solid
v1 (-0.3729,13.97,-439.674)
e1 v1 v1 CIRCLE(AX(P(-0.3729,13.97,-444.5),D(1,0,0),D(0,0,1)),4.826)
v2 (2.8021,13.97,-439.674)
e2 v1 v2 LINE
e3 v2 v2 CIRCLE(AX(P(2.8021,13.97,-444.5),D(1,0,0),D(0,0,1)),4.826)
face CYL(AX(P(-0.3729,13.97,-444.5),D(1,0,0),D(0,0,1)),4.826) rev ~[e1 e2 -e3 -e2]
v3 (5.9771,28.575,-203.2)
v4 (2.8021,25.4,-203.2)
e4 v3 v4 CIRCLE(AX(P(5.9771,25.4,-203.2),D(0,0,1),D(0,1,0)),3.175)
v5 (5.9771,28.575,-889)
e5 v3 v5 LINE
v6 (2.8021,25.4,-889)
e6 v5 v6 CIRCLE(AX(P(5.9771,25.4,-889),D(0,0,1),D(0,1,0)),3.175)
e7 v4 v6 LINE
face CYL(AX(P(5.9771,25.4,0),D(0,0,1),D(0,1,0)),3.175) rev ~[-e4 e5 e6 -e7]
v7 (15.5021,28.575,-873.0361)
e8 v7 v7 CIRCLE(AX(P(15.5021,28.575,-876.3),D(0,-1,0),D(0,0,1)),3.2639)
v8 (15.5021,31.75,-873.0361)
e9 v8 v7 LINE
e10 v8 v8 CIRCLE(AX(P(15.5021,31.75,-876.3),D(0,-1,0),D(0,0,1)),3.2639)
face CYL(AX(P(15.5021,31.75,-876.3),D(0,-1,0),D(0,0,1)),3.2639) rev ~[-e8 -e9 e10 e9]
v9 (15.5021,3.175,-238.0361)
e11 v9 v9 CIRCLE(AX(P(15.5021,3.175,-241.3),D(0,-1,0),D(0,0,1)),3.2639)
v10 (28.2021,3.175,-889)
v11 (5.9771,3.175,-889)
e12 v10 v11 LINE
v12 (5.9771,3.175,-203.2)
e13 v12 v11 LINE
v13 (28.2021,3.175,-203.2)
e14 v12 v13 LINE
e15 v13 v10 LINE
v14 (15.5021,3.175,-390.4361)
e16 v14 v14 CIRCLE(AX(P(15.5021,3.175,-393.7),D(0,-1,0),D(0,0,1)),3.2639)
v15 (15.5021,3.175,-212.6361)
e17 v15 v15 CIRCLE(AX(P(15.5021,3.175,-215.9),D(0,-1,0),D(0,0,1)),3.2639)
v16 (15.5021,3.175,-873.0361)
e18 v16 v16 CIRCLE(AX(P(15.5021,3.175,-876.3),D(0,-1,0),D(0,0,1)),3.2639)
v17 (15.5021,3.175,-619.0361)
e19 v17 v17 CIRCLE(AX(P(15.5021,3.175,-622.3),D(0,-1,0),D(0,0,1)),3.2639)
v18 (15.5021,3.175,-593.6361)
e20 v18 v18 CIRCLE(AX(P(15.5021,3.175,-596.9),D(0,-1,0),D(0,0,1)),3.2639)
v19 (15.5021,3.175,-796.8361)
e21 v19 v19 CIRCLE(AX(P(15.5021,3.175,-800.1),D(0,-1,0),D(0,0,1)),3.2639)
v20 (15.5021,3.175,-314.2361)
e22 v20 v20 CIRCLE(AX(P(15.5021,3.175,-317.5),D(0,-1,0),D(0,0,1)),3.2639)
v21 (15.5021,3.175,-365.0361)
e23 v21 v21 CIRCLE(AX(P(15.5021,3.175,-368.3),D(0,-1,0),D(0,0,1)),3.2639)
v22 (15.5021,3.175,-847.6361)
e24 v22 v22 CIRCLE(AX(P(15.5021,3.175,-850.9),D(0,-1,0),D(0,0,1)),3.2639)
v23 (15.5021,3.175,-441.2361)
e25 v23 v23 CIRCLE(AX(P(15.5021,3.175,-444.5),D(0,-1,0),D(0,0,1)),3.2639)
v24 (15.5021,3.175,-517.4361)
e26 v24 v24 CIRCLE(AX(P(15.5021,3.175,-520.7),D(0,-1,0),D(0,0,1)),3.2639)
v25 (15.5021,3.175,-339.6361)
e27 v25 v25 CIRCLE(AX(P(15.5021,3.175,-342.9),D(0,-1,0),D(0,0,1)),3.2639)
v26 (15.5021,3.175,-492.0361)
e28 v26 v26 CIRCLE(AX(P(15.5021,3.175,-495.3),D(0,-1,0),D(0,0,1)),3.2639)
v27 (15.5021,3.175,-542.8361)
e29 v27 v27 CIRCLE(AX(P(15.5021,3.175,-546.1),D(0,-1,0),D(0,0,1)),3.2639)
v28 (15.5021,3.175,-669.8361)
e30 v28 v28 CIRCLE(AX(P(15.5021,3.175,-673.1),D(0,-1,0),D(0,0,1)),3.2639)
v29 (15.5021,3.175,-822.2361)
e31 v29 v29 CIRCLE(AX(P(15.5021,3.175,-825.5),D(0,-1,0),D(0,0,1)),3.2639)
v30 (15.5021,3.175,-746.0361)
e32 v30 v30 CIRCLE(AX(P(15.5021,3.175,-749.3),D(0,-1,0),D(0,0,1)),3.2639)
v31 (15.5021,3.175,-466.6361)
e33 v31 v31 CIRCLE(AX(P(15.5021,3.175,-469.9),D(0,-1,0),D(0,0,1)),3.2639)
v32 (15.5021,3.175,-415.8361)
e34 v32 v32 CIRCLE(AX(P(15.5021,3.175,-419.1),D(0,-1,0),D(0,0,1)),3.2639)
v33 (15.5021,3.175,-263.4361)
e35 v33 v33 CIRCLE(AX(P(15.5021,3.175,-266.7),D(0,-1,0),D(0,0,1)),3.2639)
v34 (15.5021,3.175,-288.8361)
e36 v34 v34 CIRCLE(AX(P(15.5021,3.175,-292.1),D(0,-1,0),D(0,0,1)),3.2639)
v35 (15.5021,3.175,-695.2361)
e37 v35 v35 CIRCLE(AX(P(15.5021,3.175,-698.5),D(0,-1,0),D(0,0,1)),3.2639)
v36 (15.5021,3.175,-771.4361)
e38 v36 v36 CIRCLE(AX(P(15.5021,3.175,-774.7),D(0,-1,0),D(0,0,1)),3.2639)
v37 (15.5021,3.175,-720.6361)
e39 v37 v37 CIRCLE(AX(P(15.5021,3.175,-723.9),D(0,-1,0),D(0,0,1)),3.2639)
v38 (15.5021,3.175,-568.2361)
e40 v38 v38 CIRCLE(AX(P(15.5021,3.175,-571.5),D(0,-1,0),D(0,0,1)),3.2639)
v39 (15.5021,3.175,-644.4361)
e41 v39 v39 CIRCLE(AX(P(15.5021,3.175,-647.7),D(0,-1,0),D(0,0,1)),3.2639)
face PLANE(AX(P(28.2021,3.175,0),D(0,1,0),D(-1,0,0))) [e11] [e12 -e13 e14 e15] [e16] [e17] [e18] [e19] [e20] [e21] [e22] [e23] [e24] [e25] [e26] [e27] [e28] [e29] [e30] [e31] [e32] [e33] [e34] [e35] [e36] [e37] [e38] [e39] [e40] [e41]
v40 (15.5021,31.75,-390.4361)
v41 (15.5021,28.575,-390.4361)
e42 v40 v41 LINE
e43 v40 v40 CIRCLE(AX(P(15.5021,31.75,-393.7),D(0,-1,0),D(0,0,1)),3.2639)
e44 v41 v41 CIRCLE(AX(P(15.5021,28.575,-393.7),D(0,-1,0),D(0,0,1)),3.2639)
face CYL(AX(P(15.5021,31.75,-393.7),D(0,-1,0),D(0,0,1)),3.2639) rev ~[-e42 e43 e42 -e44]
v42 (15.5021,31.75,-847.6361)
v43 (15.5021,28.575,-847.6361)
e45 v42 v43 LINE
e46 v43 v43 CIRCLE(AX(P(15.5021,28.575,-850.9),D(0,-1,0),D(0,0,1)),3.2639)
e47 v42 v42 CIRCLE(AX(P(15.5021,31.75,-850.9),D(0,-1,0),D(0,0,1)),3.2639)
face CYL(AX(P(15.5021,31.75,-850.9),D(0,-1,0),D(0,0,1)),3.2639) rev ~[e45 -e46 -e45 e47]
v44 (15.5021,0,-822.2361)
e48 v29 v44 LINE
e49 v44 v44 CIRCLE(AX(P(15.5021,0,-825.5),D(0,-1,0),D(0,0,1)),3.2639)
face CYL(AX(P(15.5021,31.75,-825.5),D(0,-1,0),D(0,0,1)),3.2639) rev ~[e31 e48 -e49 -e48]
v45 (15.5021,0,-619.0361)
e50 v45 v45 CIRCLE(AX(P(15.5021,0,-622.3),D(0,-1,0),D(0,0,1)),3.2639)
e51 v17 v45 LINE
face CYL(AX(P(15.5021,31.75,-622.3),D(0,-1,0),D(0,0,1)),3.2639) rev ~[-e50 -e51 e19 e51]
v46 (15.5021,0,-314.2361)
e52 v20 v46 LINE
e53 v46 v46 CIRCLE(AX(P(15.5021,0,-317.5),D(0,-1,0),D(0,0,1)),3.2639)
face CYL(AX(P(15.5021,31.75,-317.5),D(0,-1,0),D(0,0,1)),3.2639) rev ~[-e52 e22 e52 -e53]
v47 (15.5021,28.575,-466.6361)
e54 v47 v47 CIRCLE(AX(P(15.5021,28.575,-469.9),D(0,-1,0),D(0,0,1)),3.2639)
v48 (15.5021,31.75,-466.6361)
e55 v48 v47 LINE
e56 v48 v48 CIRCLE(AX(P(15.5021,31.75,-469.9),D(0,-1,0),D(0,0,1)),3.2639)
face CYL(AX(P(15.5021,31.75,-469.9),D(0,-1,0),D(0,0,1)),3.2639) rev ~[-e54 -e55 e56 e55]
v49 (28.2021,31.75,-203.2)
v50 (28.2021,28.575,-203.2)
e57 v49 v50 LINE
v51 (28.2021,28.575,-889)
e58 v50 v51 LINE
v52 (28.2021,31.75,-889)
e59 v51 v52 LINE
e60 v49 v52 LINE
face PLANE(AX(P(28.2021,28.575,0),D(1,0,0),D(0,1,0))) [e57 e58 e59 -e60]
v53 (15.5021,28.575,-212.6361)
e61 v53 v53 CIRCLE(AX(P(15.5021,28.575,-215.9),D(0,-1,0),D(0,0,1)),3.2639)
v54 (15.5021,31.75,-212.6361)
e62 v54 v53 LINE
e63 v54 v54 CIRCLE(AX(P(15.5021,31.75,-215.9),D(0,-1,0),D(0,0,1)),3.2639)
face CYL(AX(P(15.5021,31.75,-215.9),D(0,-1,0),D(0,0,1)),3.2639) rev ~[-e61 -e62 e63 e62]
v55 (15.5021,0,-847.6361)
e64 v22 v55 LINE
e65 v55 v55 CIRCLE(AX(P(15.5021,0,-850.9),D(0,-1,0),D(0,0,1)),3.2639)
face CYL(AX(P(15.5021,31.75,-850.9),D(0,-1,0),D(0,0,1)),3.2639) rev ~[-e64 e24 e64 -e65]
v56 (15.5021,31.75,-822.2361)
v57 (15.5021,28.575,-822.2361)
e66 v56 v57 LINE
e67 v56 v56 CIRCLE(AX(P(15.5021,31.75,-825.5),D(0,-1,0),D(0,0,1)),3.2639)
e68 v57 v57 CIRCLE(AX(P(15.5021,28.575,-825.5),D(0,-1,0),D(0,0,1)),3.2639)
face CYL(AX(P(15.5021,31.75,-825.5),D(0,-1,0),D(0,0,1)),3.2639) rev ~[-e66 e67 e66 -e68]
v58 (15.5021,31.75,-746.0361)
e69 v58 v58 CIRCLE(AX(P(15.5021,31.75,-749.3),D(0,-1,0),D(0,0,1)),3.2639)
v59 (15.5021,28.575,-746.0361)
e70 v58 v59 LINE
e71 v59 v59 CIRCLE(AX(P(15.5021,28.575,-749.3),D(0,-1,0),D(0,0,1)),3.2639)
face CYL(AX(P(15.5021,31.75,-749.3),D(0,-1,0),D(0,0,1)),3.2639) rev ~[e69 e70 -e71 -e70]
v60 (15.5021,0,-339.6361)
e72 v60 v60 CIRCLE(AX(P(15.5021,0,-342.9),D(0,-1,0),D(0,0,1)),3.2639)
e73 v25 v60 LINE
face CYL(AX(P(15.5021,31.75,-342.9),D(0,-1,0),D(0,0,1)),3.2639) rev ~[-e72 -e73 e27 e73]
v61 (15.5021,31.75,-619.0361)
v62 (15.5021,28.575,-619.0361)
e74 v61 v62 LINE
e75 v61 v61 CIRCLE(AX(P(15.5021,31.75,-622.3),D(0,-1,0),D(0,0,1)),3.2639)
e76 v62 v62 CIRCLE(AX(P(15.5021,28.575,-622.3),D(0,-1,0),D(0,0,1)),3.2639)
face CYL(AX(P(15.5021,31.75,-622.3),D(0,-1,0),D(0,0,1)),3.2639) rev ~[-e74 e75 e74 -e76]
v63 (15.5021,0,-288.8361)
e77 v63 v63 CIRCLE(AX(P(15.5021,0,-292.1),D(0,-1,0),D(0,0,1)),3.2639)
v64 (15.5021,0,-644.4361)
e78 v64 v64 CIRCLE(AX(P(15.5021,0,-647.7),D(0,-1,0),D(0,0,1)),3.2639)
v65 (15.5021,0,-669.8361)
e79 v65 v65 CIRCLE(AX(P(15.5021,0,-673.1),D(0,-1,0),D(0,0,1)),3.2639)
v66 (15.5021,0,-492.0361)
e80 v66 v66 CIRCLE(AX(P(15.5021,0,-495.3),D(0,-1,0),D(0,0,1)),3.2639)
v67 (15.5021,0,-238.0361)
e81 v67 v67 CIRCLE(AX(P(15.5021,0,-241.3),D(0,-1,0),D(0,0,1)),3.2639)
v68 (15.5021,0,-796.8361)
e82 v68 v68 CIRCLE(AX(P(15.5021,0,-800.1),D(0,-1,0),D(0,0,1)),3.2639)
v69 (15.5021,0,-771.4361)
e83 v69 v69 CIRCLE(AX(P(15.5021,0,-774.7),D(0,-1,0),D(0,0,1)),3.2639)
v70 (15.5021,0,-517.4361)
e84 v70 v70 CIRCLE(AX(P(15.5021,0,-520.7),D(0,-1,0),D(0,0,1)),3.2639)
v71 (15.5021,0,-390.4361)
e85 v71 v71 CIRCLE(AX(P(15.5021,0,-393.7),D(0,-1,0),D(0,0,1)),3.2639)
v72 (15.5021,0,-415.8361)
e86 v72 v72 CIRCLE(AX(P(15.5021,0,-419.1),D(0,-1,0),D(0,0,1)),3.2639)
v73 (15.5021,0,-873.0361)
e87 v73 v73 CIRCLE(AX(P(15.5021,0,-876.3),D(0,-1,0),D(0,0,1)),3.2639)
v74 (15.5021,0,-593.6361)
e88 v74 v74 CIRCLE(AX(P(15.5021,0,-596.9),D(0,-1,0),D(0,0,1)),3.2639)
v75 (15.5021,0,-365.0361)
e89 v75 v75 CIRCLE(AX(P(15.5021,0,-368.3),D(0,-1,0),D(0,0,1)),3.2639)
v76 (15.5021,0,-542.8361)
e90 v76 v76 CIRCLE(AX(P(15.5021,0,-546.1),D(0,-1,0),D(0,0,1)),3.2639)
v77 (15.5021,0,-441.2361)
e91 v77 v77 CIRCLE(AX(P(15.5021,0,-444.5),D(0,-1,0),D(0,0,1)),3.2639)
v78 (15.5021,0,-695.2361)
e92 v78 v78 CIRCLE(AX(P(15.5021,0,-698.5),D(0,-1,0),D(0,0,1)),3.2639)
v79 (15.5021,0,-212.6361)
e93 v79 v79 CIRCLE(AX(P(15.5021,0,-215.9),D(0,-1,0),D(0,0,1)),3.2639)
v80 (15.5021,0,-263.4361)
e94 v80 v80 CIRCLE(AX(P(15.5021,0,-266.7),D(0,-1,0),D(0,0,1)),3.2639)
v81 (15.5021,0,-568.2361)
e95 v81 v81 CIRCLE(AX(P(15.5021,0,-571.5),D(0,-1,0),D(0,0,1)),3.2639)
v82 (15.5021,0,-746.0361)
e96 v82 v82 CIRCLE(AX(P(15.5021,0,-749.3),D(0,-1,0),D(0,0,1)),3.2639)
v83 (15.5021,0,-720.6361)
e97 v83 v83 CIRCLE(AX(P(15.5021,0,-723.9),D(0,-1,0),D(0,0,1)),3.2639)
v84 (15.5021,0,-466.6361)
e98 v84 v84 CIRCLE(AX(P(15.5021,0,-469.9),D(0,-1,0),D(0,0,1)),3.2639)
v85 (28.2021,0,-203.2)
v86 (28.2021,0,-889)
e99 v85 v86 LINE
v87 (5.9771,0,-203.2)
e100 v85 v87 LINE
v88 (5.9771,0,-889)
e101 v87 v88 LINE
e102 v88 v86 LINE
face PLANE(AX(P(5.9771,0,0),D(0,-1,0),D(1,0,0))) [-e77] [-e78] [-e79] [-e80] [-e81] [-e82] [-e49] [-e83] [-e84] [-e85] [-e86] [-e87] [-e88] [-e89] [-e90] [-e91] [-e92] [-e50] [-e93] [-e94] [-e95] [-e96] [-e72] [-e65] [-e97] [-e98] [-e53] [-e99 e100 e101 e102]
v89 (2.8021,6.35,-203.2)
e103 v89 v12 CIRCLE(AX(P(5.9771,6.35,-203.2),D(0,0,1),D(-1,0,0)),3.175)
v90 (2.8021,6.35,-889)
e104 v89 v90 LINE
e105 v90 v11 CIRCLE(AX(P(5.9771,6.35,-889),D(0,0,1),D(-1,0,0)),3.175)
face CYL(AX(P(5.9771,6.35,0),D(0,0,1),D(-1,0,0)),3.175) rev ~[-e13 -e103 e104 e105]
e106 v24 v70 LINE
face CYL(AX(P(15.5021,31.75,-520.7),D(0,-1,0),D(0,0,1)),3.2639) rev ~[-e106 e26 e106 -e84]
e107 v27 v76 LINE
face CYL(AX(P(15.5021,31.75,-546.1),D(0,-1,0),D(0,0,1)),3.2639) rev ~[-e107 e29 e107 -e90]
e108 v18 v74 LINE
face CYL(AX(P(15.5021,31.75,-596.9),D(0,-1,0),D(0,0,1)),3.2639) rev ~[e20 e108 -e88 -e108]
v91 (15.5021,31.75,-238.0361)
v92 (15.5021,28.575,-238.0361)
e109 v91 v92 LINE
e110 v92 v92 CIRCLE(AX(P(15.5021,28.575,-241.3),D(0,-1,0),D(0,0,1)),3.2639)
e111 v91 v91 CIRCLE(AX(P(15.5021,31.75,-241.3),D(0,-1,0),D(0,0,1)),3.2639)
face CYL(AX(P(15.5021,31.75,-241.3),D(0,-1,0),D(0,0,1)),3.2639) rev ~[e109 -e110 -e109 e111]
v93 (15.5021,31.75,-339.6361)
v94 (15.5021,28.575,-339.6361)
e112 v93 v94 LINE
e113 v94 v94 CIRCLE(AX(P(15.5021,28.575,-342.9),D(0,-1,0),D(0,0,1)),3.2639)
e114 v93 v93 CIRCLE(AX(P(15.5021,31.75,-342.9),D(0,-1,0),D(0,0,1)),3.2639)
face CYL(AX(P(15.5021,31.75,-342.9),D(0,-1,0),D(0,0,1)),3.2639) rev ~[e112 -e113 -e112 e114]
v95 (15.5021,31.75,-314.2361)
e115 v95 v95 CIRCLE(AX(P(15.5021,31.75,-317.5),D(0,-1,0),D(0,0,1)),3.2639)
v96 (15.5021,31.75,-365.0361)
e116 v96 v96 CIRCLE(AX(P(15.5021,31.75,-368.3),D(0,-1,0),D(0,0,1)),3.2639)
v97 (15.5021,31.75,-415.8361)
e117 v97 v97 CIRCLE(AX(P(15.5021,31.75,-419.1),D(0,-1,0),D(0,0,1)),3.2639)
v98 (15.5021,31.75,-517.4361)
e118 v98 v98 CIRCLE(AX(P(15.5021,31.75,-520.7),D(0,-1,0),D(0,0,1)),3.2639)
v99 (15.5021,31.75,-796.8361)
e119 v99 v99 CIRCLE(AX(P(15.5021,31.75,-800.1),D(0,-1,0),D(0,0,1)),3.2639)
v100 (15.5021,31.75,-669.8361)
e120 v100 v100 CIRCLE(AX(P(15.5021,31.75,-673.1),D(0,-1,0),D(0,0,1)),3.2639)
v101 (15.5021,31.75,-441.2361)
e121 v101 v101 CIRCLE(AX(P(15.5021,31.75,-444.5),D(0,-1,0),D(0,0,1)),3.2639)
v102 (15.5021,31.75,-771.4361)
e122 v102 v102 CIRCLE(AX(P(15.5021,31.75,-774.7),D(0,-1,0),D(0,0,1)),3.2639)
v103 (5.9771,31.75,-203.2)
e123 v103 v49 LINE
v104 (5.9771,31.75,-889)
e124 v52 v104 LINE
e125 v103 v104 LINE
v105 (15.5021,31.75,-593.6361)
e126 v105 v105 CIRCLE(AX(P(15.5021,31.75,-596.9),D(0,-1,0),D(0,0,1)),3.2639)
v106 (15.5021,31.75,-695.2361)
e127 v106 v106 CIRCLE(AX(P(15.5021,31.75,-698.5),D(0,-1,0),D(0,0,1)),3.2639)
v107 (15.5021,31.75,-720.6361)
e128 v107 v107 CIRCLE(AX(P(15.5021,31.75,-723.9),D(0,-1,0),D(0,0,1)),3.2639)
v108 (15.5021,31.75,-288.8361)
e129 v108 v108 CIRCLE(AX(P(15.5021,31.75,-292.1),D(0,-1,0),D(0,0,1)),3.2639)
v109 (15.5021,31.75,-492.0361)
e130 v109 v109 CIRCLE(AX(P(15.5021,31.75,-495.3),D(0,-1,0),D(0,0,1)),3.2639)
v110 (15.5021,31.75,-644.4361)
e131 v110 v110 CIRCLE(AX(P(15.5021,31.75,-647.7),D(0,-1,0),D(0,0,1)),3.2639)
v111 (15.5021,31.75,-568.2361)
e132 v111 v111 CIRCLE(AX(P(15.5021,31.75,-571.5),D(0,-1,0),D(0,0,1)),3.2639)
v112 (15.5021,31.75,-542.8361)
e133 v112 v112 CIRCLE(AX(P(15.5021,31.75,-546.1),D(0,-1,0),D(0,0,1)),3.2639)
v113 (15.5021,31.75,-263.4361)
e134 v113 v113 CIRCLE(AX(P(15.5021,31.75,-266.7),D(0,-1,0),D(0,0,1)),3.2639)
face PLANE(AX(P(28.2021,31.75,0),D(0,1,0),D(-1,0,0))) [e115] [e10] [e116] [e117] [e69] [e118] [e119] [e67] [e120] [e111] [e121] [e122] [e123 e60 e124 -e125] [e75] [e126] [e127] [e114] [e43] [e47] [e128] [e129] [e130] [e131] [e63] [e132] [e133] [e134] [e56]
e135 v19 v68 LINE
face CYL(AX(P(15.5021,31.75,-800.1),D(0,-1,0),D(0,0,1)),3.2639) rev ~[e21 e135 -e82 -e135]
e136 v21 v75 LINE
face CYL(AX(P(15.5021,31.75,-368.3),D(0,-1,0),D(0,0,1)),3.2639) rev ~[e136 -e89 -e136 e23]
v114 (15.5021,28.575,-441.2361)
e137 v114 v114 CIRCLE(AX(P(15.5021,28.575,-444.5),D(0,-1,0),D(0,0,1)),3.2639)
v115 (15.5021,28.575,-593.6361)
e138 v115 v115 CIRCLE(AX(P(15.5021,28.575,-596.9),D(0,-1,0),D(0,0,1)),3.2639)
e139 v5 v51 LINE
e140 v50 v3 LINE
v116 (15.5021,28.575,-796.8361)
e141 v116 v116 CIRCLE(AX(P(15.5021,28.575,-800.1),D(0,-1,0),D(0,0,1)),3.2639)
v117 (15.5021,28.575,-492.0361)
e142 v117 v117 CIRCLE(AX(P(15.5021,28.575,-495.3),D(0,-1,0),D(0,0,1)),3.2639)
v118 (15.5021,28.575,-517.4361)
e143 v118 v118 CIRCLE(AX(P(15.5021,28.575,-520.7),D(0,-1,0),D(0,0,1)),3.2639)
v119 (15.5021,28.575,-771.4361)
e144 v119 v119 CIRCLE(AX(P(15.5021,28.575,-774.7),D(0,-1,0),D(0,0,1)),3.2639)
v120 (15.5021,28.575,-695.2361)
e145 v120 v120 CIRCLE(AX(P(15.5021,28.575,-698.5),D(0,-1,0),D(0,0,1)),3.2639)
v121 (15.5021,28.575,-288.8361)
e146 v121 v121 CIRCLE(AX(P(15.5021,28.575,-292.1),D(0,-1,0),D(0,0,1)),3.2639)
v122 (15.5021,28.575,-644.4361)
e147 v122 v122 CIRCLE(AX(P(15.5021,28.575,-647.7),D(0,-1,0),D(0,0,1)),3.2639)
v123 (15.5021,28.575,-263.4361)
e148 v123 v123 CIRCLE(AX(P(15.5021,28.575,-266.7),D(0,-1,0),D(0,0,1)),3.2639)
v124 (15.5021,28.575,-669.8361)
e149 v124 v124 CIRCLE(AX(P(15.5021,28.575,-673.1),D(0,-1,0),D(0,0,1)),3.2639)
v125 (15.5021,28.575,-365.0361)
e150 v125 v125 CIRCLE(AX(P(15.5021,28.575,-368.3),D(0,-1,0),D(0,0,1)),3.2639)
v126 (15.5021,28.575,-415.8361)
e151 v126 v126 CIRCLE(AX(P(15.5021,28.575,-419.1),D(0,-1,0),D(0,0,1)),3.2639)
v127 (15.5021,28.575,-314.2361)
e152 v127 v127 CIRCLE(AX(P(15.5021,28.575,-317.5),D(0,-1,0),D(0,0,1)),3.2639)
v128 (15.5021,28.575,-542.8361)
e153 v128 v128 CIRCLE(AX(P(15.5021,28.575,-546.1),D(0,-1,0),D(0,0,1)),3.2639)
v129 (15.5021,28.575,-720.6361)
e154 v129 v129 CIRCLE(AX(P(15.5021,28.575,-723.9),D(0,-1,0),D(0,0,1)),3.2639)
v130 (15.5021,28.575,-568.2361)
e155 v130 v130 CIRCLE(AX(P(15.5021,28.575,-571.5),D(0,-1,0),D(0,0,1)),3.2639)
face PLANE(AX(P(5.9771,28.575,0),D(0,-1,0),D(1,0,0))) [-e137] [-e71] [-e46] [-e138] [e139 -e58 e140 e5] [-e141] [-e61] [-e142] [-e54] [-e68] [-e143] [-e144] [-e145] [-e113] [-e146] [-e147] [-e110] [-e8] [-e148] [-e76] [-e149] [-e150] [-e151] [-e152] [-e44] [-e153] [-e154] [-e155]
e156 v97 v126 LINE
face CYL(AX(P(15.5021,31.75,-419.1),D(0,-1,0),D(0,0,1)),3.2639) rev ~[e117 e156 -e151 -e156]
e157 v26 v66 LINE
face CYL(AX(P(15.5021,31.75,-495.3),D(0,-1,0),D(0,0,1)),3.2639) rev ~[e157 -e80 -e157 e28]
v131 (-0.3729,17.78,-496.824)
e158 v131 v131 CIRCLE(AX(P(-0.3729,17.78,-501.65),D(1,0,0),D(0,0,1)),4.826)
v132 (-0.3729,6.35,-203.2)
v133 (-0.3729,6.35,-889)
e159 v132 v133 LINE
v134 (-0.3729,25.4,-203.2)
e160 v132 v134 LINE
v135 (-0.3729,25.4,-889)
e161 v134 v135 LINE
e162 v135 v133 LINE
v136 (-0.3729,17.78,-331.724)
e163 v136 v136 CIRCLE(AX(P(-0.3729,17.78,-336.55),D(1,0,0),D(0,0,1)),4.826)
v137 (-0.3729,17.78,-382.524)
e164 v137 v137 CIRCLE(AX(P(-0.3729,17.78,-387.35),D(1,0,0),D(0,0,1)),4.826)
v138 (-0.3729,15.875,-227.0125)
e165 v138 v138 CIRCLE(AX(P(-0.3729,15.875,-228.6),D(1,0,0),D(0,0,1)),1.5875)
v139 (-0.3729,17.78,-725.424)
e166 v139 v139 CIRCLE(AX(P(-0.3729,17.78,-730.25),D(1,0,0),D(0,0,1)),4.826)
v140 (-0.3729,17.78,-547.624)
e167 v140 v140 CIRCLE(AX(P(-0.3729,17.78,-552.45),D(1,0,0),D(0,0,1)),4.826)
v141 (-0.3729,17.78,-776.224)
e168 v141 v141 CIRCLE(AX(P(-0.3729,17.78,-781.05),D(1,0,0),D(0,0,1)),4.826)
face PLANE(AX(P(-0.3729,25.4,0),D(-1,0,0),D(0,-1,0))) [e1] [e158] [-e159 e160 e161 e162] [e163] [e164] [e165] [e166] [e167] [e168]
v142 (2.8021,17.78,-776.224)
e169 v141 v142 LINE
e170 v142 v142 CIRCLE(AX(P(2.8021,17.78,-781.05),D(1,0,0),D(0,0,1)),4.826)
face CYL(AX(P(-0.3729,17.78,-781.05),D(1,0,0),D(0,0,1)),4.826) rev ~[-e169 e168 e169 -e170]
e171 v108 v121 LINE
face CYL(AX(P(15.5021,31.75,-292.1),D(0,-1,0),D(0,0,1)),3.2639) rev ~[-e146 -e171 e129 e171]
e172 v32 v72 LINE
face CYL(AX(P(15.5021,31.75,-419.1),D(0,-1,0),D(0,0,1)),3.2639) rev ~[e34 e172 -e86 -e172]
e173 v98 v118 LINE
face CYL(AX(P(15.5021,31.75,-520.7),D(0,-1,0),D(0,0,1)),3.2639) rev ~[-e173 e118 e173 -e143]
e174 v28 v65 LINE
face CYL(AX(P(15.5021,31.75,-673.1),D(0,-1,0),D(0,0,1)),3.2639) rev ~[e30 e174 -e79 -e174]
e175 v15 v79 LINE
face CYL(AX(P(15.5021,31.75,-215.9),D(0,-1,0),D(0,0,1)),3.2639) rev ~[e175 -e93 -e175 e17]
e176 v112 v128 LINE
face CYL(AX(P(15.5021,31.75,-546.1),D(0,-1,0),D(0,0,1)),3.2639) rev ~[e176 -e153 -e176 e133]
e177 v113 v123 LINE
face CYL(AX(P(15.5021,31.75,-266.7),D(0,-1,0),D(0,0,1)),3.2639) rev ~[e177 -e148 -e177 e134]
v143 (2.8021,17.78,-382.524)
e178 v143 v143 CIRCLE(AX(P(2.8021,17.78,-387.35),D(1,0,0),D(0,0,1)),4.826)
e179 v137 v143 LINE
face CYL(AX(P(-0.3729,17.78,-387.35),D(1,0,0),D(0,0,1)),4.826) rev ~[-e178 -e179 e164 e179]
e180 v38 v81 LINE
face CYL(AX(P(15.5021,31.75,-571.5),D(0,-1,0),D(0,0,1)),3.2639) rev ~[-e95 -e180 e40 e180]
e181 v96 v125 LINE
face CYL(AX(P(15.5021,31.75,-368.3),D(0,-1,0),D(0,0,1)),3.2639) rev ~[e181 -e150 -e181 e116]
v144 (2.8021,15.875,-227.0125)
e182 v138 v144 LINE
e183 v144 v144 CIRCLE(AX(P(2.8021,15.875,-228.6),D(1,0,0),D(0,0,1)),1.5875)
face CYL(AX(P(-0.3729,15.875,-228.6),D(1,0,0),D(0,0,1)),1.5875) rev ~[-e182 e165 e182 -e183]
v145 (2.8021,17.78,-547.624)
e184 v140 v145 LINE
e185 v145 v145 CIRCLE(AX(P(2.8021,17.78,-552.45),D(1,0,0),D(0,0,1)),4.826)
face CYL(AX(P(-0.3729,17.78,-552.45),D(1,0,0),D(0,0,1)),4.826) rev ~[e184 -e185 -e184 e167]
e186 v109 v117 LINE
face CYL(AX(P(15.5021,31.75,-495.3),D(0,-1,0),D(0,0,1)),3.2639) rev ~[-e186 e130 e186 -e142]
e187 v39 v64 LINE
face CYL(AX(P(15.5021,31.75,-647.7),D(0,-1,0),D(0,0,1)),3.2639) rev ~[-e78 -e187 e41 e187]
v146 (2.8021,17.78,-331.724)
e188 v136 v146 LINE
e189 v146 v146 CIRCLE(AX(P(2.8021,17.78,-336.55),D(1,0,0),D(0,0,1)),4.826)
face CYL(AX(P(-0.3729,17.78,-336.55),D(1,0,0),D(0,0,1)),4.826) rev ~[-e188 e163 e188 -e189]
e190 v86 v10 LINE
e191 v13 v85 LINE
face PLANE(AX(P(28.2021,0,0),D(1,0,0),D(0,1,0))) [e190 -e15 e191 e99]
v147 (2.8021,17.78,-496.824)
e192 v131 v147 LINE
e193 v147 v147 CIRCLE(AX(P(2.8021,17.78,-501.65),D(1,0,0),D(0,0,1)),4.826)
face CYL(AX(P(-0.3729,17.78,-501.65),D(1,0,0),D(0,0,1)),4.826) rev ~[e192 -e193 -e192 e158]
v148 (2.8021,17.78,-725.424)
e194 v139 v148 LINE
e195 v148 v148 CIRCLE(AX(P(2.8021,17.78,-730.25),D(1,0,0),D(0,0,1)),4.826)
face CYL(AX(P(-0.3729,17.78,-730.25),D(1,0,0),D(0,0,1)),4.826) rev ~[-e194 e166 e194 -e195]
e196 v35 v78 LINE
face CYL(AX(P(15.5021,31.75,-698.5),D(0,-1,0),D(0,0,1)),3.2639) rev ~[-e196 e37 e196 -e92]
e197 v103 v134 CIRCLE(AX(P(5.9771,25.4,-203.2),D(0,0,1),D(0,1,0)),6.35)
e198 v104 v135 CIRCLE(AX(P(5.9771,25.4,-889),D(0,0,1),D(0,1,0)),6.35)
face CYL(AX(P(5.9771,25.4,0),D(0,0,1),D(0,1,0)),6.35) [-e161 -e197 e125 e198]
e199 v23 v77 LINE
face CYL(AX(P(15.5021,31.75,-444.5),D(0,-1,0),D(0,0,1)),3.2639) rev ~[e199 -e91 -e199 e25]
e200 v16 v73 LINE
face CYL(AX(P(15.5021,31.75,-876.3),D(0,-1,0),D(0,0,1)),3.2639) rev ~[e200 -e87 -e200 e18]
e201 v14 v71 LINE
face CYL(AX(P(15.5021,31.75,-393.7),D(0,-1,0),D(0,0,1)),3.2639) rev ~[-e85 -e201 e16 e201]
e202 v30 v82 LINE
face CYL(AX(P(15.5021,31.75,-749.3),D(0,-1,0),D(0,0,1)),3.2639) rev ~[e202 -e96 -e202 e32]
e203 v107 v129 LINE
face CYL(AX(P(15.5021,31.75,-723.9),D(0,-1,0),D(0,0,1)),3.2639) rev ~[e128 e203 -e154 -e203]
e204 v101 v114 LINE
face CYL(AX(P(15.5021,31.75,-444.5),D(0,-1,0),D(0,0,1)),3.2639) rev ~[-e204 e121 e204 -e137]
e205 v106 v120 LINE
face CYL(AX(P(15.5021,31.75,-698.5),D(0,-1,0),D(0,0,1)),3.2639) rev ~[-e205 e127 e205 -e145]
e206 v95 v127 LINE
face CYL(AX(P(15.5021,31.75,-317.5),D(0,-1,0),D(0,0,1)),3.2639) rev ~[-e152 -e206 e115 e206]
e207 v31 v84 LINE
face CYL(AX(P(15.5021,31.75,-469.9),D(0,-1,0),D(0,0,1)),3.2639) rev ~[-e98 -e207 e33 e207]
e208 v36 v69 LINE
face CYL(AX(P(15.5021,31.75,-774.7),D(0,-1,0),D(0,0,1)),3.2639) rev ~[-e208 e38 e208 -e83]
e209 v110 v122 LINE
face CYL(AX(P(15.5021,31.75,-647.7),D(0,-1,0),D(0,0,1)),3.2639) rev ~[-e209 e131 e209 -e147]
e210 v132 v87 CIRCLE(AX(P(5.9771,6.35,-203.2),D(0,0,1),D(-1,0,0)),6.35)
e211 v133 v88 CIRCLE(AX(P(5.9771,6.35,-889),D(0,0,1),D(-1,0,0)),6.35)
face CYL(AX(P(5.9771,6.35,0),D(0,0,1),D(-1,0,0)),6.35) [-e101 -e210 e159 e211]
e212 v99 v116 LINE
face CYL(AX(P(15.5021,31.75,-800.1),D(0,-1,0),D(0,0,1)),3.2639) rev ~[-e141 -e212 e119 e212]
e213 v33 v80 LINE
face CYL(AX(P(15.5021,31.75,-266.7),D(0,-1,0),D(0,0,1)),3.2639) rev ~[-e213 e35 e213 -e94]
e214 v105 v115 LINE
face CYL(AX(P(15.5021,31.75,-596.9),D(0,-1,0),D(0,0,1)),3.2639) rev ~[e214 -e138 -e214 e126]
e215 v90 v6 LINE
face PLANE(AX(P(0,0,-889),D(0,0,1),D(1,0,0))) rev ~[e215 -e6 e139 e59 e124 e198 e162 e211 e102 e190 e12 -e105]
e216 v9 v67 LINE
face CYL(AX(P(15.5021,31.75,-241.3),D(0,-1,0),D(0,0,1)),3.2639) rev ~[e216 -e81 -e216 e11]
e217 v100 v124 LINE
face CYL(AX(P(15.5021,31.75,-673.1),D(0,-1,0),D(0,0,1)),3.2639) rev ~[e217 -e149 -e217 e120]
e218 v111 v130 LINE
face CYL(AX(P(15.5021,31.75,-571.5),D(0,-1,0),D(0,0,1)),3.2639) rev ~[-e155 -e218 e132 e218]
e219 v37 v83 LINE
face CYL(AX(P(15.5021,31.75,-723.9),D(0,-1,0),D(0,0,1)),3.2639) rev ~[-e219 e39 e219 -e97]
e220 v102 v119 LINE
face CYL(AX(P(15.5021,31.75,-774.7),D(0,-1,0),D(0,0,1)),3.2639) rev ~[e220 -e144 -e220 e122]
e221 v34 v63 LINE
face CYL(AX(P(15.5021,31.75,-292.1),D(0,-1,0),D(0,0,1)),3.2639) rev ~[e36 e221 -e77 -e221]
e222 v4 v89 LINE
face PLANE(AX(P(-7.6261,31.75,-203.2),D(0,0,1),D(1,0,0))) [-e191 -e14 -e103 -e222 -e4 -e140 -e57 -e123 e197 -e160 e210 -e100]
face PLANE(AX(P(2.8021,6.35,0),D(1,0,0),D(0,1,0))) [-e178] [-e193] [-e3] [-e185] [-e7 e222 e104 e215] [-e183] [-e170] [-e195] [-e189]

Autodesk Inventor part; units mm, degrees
ref_plane "YZ Plane" through (0, 0, 0) normal (1, 0, 0) x (0, 1, 0)
ref_plane "XZ Plane" through (0, 0, 0) normal (0, 1, 0) x (-1, 0, 0)
ref_plane "XY Plane" through (0, 0, 0) normal (0, 0, 1) x (1, 0, 0)
sketch "Sketch1" plane through (0, 0, 0) normal (0, 0, 1) x (1, 0, 0)
  line L0 (5.9771, 0) -> (28.2021, 0)
  line L1 (28.2021, 0) -> (28.2021, 3.175)
  line L2 (28.2021, 3.175) -> (5.9771, 3.175)
  line L3 (2.8021, 6.35) -> (2.8021, 25.4)
  line L4 (5.9771, 28.575) -> (28.2021, 28.575)
  line L5 (28.2021, 28.575) -> (28.2021, 31.75)
  line L6 (28.2021, 31.75) -> (5.9771, 31.75)
  line L7 (-0.3729, 25.4) -> (-0.3729, 6.35)
  arc A0 (5.9771, 28.575) -> (2.8021, 25.4) centre (5.9771, 25.4) ccw
  arc A1 (2.8021, 6.35) -> (5.9771, 3.175) centre (5.9771, 6.35) ccw
  arc A2 (5.9771, 31.75) -> (-0.3729, 25.4) centre (5.9771, 25.4) ccw
  arc A3 (-0.3729, 6.35) -> (5.9771, 0) centre (5.9771, 6.35) ccw
  point P0 (0, 0)
  point P1 (-0.3729, 0)
  point P2 (2.8021, 3.175)
  point P3 (2.8021, 28.575)
  dimension "d0" = 28.575
  dimension "d1" = 3.175
  dimension "d2" = 25.4
  dimension "d3" = 25.4
  dimension "d4" = 3.175
  dimension "d5" = 3.175
  dimension "d6" = 6.35
extrude "Extrusion1" add sketch "Sketch1" against normal blind 889
sketch "Sketch2" plane through (-0.3729, 6.35, 0) normal (-1, 0, 0) x (0, 0, 1)
  line L0 (0, 19.05) -> (-889, 19.05) projected
  line L1 (-228.6, 0) -> (-228.6, 7.9375)
  arc A0 (-228.6, 11.1125) -> (-228.6, 7.9375) centre (-228.6, 9.525) ccw
  line L2 (-228.6, 11.1125) -> (-228.6, 19.05)
  line L3 (-228.6, 19.05) -> (-889, 19.05)
  line L4 (-889, 0) -> (-889, 19.05)
  line L5 (-889, 0) -> (-228.6, 0)
  circle A1 centre (-552.45, 11.43) radius 4.826
  circle A2 centre (-501.65, 11.43) radius 4.826
  circle A3 centre (-387.35, 11.43) radius 4.826
  circle A4 centre (-336.55, 11.43) radius 4.826
  circle A5 centre (-444.5, 7.62) radius 4.826
  circle A6 centre (-730.25, 11.43) radius 4.826
  circle A7 centre (-781.05, 11.43) radius 4.826
  line L6 (0, 25.4) -> (-889, 25.4) construction
  circle A8 centre (-133.35, 11.43) radius 4.826
  circle A9 centre (-82.55, 11.43) radius 4.826
  point P0 (0, -6.35)
  point P1 (-254, 0.852)
  dimension "d10" = 7.62
  dimension "d11" = 3.81
  dimension "d14" = 254
hole "Hole1" at (-0.3729, 17.78, -781.05) at (-0.3729, 17.78, -730.25) at (-0.3729, 17.78, -552.45) at (-0.3729, 17.78, -501.65) at (-0.3729, 13.97, -444.5) at (-0.3729, 17.78, -387.35) at (-0.3729, 17.78, -336.55) at (-0.3729, 17.78, -133.35) at (-0.3729, 17.78, -82.55) direction (1, 0, 0) diameter 9.652 end through all
hole "Hole2" at (-0.3729, 15.875, -228.6) direction (1, 0, 0) diameter 3.175 end through all
sketch "Sketch3" plane through (5.9771, 31.75, 0) normal (0, 1, 0) x (1, 0, 0)
  line L0 (22.225, 889) -> (0, 889) projected
  line L1 (22.225, 0) -> (22.225, 889) projected
  point P0 (-5.9771, 0)
  point P1 (9.525, 876.3)
  dimension "d34" = 12.7
  dimension "d35" = 12.7
hole "Hole3" at (15.5021, 31.75, -876.3) direction (0, -1, 0) diameter 6.5278 end through all
pattern_linear "Rectangular Pattern1" count 35 spacing 25.4 along (0, 0, 1) of "Hole3"
sketch "Sketch4" plane through (5.9771, 31.75, 0) normal (0, 1, 0) x (1, 0, 0)
  circle A0 centre (9.525, 12.7) radius 3.2639 projected
  circle A1 centre (9.525, 38.1) radius 3.2639 projected
  circle A2 centre (9.525, 63.5) radius 3.2639 projected
  circle A3 centre (9.525, 88.9) radius 3.2639 projected
  circle A4 centre (9.525, 114.3) radius 3.2639 projected
  circle A5 centre (9.525, 139.7) radius 3.2639 projected
  circle A6 centre (9.525, 165.1) radius 3.2639 projected
  circle A7 centre (9.525, 190.5) radius 3.2639 projected
  line L0 (22.225, 0) -> (-13.6032, 0)
  line L1 (-13.6032, 0) -> (-13.6032, 203.2)
  line L2 (-13.6032, 203.2) -> (22.225, 203.2)
  line L3 (22.225, 203.2) -> (22.225, 0)
  point P0 (-5.9771, 0)
  dimension "d46" = 203.2
extrude "Extrusion2" cut sketch "Sketch4" against normal blind 38.1
equation "\"d35\" = d34"
properties part number "chassis 27 inch"
